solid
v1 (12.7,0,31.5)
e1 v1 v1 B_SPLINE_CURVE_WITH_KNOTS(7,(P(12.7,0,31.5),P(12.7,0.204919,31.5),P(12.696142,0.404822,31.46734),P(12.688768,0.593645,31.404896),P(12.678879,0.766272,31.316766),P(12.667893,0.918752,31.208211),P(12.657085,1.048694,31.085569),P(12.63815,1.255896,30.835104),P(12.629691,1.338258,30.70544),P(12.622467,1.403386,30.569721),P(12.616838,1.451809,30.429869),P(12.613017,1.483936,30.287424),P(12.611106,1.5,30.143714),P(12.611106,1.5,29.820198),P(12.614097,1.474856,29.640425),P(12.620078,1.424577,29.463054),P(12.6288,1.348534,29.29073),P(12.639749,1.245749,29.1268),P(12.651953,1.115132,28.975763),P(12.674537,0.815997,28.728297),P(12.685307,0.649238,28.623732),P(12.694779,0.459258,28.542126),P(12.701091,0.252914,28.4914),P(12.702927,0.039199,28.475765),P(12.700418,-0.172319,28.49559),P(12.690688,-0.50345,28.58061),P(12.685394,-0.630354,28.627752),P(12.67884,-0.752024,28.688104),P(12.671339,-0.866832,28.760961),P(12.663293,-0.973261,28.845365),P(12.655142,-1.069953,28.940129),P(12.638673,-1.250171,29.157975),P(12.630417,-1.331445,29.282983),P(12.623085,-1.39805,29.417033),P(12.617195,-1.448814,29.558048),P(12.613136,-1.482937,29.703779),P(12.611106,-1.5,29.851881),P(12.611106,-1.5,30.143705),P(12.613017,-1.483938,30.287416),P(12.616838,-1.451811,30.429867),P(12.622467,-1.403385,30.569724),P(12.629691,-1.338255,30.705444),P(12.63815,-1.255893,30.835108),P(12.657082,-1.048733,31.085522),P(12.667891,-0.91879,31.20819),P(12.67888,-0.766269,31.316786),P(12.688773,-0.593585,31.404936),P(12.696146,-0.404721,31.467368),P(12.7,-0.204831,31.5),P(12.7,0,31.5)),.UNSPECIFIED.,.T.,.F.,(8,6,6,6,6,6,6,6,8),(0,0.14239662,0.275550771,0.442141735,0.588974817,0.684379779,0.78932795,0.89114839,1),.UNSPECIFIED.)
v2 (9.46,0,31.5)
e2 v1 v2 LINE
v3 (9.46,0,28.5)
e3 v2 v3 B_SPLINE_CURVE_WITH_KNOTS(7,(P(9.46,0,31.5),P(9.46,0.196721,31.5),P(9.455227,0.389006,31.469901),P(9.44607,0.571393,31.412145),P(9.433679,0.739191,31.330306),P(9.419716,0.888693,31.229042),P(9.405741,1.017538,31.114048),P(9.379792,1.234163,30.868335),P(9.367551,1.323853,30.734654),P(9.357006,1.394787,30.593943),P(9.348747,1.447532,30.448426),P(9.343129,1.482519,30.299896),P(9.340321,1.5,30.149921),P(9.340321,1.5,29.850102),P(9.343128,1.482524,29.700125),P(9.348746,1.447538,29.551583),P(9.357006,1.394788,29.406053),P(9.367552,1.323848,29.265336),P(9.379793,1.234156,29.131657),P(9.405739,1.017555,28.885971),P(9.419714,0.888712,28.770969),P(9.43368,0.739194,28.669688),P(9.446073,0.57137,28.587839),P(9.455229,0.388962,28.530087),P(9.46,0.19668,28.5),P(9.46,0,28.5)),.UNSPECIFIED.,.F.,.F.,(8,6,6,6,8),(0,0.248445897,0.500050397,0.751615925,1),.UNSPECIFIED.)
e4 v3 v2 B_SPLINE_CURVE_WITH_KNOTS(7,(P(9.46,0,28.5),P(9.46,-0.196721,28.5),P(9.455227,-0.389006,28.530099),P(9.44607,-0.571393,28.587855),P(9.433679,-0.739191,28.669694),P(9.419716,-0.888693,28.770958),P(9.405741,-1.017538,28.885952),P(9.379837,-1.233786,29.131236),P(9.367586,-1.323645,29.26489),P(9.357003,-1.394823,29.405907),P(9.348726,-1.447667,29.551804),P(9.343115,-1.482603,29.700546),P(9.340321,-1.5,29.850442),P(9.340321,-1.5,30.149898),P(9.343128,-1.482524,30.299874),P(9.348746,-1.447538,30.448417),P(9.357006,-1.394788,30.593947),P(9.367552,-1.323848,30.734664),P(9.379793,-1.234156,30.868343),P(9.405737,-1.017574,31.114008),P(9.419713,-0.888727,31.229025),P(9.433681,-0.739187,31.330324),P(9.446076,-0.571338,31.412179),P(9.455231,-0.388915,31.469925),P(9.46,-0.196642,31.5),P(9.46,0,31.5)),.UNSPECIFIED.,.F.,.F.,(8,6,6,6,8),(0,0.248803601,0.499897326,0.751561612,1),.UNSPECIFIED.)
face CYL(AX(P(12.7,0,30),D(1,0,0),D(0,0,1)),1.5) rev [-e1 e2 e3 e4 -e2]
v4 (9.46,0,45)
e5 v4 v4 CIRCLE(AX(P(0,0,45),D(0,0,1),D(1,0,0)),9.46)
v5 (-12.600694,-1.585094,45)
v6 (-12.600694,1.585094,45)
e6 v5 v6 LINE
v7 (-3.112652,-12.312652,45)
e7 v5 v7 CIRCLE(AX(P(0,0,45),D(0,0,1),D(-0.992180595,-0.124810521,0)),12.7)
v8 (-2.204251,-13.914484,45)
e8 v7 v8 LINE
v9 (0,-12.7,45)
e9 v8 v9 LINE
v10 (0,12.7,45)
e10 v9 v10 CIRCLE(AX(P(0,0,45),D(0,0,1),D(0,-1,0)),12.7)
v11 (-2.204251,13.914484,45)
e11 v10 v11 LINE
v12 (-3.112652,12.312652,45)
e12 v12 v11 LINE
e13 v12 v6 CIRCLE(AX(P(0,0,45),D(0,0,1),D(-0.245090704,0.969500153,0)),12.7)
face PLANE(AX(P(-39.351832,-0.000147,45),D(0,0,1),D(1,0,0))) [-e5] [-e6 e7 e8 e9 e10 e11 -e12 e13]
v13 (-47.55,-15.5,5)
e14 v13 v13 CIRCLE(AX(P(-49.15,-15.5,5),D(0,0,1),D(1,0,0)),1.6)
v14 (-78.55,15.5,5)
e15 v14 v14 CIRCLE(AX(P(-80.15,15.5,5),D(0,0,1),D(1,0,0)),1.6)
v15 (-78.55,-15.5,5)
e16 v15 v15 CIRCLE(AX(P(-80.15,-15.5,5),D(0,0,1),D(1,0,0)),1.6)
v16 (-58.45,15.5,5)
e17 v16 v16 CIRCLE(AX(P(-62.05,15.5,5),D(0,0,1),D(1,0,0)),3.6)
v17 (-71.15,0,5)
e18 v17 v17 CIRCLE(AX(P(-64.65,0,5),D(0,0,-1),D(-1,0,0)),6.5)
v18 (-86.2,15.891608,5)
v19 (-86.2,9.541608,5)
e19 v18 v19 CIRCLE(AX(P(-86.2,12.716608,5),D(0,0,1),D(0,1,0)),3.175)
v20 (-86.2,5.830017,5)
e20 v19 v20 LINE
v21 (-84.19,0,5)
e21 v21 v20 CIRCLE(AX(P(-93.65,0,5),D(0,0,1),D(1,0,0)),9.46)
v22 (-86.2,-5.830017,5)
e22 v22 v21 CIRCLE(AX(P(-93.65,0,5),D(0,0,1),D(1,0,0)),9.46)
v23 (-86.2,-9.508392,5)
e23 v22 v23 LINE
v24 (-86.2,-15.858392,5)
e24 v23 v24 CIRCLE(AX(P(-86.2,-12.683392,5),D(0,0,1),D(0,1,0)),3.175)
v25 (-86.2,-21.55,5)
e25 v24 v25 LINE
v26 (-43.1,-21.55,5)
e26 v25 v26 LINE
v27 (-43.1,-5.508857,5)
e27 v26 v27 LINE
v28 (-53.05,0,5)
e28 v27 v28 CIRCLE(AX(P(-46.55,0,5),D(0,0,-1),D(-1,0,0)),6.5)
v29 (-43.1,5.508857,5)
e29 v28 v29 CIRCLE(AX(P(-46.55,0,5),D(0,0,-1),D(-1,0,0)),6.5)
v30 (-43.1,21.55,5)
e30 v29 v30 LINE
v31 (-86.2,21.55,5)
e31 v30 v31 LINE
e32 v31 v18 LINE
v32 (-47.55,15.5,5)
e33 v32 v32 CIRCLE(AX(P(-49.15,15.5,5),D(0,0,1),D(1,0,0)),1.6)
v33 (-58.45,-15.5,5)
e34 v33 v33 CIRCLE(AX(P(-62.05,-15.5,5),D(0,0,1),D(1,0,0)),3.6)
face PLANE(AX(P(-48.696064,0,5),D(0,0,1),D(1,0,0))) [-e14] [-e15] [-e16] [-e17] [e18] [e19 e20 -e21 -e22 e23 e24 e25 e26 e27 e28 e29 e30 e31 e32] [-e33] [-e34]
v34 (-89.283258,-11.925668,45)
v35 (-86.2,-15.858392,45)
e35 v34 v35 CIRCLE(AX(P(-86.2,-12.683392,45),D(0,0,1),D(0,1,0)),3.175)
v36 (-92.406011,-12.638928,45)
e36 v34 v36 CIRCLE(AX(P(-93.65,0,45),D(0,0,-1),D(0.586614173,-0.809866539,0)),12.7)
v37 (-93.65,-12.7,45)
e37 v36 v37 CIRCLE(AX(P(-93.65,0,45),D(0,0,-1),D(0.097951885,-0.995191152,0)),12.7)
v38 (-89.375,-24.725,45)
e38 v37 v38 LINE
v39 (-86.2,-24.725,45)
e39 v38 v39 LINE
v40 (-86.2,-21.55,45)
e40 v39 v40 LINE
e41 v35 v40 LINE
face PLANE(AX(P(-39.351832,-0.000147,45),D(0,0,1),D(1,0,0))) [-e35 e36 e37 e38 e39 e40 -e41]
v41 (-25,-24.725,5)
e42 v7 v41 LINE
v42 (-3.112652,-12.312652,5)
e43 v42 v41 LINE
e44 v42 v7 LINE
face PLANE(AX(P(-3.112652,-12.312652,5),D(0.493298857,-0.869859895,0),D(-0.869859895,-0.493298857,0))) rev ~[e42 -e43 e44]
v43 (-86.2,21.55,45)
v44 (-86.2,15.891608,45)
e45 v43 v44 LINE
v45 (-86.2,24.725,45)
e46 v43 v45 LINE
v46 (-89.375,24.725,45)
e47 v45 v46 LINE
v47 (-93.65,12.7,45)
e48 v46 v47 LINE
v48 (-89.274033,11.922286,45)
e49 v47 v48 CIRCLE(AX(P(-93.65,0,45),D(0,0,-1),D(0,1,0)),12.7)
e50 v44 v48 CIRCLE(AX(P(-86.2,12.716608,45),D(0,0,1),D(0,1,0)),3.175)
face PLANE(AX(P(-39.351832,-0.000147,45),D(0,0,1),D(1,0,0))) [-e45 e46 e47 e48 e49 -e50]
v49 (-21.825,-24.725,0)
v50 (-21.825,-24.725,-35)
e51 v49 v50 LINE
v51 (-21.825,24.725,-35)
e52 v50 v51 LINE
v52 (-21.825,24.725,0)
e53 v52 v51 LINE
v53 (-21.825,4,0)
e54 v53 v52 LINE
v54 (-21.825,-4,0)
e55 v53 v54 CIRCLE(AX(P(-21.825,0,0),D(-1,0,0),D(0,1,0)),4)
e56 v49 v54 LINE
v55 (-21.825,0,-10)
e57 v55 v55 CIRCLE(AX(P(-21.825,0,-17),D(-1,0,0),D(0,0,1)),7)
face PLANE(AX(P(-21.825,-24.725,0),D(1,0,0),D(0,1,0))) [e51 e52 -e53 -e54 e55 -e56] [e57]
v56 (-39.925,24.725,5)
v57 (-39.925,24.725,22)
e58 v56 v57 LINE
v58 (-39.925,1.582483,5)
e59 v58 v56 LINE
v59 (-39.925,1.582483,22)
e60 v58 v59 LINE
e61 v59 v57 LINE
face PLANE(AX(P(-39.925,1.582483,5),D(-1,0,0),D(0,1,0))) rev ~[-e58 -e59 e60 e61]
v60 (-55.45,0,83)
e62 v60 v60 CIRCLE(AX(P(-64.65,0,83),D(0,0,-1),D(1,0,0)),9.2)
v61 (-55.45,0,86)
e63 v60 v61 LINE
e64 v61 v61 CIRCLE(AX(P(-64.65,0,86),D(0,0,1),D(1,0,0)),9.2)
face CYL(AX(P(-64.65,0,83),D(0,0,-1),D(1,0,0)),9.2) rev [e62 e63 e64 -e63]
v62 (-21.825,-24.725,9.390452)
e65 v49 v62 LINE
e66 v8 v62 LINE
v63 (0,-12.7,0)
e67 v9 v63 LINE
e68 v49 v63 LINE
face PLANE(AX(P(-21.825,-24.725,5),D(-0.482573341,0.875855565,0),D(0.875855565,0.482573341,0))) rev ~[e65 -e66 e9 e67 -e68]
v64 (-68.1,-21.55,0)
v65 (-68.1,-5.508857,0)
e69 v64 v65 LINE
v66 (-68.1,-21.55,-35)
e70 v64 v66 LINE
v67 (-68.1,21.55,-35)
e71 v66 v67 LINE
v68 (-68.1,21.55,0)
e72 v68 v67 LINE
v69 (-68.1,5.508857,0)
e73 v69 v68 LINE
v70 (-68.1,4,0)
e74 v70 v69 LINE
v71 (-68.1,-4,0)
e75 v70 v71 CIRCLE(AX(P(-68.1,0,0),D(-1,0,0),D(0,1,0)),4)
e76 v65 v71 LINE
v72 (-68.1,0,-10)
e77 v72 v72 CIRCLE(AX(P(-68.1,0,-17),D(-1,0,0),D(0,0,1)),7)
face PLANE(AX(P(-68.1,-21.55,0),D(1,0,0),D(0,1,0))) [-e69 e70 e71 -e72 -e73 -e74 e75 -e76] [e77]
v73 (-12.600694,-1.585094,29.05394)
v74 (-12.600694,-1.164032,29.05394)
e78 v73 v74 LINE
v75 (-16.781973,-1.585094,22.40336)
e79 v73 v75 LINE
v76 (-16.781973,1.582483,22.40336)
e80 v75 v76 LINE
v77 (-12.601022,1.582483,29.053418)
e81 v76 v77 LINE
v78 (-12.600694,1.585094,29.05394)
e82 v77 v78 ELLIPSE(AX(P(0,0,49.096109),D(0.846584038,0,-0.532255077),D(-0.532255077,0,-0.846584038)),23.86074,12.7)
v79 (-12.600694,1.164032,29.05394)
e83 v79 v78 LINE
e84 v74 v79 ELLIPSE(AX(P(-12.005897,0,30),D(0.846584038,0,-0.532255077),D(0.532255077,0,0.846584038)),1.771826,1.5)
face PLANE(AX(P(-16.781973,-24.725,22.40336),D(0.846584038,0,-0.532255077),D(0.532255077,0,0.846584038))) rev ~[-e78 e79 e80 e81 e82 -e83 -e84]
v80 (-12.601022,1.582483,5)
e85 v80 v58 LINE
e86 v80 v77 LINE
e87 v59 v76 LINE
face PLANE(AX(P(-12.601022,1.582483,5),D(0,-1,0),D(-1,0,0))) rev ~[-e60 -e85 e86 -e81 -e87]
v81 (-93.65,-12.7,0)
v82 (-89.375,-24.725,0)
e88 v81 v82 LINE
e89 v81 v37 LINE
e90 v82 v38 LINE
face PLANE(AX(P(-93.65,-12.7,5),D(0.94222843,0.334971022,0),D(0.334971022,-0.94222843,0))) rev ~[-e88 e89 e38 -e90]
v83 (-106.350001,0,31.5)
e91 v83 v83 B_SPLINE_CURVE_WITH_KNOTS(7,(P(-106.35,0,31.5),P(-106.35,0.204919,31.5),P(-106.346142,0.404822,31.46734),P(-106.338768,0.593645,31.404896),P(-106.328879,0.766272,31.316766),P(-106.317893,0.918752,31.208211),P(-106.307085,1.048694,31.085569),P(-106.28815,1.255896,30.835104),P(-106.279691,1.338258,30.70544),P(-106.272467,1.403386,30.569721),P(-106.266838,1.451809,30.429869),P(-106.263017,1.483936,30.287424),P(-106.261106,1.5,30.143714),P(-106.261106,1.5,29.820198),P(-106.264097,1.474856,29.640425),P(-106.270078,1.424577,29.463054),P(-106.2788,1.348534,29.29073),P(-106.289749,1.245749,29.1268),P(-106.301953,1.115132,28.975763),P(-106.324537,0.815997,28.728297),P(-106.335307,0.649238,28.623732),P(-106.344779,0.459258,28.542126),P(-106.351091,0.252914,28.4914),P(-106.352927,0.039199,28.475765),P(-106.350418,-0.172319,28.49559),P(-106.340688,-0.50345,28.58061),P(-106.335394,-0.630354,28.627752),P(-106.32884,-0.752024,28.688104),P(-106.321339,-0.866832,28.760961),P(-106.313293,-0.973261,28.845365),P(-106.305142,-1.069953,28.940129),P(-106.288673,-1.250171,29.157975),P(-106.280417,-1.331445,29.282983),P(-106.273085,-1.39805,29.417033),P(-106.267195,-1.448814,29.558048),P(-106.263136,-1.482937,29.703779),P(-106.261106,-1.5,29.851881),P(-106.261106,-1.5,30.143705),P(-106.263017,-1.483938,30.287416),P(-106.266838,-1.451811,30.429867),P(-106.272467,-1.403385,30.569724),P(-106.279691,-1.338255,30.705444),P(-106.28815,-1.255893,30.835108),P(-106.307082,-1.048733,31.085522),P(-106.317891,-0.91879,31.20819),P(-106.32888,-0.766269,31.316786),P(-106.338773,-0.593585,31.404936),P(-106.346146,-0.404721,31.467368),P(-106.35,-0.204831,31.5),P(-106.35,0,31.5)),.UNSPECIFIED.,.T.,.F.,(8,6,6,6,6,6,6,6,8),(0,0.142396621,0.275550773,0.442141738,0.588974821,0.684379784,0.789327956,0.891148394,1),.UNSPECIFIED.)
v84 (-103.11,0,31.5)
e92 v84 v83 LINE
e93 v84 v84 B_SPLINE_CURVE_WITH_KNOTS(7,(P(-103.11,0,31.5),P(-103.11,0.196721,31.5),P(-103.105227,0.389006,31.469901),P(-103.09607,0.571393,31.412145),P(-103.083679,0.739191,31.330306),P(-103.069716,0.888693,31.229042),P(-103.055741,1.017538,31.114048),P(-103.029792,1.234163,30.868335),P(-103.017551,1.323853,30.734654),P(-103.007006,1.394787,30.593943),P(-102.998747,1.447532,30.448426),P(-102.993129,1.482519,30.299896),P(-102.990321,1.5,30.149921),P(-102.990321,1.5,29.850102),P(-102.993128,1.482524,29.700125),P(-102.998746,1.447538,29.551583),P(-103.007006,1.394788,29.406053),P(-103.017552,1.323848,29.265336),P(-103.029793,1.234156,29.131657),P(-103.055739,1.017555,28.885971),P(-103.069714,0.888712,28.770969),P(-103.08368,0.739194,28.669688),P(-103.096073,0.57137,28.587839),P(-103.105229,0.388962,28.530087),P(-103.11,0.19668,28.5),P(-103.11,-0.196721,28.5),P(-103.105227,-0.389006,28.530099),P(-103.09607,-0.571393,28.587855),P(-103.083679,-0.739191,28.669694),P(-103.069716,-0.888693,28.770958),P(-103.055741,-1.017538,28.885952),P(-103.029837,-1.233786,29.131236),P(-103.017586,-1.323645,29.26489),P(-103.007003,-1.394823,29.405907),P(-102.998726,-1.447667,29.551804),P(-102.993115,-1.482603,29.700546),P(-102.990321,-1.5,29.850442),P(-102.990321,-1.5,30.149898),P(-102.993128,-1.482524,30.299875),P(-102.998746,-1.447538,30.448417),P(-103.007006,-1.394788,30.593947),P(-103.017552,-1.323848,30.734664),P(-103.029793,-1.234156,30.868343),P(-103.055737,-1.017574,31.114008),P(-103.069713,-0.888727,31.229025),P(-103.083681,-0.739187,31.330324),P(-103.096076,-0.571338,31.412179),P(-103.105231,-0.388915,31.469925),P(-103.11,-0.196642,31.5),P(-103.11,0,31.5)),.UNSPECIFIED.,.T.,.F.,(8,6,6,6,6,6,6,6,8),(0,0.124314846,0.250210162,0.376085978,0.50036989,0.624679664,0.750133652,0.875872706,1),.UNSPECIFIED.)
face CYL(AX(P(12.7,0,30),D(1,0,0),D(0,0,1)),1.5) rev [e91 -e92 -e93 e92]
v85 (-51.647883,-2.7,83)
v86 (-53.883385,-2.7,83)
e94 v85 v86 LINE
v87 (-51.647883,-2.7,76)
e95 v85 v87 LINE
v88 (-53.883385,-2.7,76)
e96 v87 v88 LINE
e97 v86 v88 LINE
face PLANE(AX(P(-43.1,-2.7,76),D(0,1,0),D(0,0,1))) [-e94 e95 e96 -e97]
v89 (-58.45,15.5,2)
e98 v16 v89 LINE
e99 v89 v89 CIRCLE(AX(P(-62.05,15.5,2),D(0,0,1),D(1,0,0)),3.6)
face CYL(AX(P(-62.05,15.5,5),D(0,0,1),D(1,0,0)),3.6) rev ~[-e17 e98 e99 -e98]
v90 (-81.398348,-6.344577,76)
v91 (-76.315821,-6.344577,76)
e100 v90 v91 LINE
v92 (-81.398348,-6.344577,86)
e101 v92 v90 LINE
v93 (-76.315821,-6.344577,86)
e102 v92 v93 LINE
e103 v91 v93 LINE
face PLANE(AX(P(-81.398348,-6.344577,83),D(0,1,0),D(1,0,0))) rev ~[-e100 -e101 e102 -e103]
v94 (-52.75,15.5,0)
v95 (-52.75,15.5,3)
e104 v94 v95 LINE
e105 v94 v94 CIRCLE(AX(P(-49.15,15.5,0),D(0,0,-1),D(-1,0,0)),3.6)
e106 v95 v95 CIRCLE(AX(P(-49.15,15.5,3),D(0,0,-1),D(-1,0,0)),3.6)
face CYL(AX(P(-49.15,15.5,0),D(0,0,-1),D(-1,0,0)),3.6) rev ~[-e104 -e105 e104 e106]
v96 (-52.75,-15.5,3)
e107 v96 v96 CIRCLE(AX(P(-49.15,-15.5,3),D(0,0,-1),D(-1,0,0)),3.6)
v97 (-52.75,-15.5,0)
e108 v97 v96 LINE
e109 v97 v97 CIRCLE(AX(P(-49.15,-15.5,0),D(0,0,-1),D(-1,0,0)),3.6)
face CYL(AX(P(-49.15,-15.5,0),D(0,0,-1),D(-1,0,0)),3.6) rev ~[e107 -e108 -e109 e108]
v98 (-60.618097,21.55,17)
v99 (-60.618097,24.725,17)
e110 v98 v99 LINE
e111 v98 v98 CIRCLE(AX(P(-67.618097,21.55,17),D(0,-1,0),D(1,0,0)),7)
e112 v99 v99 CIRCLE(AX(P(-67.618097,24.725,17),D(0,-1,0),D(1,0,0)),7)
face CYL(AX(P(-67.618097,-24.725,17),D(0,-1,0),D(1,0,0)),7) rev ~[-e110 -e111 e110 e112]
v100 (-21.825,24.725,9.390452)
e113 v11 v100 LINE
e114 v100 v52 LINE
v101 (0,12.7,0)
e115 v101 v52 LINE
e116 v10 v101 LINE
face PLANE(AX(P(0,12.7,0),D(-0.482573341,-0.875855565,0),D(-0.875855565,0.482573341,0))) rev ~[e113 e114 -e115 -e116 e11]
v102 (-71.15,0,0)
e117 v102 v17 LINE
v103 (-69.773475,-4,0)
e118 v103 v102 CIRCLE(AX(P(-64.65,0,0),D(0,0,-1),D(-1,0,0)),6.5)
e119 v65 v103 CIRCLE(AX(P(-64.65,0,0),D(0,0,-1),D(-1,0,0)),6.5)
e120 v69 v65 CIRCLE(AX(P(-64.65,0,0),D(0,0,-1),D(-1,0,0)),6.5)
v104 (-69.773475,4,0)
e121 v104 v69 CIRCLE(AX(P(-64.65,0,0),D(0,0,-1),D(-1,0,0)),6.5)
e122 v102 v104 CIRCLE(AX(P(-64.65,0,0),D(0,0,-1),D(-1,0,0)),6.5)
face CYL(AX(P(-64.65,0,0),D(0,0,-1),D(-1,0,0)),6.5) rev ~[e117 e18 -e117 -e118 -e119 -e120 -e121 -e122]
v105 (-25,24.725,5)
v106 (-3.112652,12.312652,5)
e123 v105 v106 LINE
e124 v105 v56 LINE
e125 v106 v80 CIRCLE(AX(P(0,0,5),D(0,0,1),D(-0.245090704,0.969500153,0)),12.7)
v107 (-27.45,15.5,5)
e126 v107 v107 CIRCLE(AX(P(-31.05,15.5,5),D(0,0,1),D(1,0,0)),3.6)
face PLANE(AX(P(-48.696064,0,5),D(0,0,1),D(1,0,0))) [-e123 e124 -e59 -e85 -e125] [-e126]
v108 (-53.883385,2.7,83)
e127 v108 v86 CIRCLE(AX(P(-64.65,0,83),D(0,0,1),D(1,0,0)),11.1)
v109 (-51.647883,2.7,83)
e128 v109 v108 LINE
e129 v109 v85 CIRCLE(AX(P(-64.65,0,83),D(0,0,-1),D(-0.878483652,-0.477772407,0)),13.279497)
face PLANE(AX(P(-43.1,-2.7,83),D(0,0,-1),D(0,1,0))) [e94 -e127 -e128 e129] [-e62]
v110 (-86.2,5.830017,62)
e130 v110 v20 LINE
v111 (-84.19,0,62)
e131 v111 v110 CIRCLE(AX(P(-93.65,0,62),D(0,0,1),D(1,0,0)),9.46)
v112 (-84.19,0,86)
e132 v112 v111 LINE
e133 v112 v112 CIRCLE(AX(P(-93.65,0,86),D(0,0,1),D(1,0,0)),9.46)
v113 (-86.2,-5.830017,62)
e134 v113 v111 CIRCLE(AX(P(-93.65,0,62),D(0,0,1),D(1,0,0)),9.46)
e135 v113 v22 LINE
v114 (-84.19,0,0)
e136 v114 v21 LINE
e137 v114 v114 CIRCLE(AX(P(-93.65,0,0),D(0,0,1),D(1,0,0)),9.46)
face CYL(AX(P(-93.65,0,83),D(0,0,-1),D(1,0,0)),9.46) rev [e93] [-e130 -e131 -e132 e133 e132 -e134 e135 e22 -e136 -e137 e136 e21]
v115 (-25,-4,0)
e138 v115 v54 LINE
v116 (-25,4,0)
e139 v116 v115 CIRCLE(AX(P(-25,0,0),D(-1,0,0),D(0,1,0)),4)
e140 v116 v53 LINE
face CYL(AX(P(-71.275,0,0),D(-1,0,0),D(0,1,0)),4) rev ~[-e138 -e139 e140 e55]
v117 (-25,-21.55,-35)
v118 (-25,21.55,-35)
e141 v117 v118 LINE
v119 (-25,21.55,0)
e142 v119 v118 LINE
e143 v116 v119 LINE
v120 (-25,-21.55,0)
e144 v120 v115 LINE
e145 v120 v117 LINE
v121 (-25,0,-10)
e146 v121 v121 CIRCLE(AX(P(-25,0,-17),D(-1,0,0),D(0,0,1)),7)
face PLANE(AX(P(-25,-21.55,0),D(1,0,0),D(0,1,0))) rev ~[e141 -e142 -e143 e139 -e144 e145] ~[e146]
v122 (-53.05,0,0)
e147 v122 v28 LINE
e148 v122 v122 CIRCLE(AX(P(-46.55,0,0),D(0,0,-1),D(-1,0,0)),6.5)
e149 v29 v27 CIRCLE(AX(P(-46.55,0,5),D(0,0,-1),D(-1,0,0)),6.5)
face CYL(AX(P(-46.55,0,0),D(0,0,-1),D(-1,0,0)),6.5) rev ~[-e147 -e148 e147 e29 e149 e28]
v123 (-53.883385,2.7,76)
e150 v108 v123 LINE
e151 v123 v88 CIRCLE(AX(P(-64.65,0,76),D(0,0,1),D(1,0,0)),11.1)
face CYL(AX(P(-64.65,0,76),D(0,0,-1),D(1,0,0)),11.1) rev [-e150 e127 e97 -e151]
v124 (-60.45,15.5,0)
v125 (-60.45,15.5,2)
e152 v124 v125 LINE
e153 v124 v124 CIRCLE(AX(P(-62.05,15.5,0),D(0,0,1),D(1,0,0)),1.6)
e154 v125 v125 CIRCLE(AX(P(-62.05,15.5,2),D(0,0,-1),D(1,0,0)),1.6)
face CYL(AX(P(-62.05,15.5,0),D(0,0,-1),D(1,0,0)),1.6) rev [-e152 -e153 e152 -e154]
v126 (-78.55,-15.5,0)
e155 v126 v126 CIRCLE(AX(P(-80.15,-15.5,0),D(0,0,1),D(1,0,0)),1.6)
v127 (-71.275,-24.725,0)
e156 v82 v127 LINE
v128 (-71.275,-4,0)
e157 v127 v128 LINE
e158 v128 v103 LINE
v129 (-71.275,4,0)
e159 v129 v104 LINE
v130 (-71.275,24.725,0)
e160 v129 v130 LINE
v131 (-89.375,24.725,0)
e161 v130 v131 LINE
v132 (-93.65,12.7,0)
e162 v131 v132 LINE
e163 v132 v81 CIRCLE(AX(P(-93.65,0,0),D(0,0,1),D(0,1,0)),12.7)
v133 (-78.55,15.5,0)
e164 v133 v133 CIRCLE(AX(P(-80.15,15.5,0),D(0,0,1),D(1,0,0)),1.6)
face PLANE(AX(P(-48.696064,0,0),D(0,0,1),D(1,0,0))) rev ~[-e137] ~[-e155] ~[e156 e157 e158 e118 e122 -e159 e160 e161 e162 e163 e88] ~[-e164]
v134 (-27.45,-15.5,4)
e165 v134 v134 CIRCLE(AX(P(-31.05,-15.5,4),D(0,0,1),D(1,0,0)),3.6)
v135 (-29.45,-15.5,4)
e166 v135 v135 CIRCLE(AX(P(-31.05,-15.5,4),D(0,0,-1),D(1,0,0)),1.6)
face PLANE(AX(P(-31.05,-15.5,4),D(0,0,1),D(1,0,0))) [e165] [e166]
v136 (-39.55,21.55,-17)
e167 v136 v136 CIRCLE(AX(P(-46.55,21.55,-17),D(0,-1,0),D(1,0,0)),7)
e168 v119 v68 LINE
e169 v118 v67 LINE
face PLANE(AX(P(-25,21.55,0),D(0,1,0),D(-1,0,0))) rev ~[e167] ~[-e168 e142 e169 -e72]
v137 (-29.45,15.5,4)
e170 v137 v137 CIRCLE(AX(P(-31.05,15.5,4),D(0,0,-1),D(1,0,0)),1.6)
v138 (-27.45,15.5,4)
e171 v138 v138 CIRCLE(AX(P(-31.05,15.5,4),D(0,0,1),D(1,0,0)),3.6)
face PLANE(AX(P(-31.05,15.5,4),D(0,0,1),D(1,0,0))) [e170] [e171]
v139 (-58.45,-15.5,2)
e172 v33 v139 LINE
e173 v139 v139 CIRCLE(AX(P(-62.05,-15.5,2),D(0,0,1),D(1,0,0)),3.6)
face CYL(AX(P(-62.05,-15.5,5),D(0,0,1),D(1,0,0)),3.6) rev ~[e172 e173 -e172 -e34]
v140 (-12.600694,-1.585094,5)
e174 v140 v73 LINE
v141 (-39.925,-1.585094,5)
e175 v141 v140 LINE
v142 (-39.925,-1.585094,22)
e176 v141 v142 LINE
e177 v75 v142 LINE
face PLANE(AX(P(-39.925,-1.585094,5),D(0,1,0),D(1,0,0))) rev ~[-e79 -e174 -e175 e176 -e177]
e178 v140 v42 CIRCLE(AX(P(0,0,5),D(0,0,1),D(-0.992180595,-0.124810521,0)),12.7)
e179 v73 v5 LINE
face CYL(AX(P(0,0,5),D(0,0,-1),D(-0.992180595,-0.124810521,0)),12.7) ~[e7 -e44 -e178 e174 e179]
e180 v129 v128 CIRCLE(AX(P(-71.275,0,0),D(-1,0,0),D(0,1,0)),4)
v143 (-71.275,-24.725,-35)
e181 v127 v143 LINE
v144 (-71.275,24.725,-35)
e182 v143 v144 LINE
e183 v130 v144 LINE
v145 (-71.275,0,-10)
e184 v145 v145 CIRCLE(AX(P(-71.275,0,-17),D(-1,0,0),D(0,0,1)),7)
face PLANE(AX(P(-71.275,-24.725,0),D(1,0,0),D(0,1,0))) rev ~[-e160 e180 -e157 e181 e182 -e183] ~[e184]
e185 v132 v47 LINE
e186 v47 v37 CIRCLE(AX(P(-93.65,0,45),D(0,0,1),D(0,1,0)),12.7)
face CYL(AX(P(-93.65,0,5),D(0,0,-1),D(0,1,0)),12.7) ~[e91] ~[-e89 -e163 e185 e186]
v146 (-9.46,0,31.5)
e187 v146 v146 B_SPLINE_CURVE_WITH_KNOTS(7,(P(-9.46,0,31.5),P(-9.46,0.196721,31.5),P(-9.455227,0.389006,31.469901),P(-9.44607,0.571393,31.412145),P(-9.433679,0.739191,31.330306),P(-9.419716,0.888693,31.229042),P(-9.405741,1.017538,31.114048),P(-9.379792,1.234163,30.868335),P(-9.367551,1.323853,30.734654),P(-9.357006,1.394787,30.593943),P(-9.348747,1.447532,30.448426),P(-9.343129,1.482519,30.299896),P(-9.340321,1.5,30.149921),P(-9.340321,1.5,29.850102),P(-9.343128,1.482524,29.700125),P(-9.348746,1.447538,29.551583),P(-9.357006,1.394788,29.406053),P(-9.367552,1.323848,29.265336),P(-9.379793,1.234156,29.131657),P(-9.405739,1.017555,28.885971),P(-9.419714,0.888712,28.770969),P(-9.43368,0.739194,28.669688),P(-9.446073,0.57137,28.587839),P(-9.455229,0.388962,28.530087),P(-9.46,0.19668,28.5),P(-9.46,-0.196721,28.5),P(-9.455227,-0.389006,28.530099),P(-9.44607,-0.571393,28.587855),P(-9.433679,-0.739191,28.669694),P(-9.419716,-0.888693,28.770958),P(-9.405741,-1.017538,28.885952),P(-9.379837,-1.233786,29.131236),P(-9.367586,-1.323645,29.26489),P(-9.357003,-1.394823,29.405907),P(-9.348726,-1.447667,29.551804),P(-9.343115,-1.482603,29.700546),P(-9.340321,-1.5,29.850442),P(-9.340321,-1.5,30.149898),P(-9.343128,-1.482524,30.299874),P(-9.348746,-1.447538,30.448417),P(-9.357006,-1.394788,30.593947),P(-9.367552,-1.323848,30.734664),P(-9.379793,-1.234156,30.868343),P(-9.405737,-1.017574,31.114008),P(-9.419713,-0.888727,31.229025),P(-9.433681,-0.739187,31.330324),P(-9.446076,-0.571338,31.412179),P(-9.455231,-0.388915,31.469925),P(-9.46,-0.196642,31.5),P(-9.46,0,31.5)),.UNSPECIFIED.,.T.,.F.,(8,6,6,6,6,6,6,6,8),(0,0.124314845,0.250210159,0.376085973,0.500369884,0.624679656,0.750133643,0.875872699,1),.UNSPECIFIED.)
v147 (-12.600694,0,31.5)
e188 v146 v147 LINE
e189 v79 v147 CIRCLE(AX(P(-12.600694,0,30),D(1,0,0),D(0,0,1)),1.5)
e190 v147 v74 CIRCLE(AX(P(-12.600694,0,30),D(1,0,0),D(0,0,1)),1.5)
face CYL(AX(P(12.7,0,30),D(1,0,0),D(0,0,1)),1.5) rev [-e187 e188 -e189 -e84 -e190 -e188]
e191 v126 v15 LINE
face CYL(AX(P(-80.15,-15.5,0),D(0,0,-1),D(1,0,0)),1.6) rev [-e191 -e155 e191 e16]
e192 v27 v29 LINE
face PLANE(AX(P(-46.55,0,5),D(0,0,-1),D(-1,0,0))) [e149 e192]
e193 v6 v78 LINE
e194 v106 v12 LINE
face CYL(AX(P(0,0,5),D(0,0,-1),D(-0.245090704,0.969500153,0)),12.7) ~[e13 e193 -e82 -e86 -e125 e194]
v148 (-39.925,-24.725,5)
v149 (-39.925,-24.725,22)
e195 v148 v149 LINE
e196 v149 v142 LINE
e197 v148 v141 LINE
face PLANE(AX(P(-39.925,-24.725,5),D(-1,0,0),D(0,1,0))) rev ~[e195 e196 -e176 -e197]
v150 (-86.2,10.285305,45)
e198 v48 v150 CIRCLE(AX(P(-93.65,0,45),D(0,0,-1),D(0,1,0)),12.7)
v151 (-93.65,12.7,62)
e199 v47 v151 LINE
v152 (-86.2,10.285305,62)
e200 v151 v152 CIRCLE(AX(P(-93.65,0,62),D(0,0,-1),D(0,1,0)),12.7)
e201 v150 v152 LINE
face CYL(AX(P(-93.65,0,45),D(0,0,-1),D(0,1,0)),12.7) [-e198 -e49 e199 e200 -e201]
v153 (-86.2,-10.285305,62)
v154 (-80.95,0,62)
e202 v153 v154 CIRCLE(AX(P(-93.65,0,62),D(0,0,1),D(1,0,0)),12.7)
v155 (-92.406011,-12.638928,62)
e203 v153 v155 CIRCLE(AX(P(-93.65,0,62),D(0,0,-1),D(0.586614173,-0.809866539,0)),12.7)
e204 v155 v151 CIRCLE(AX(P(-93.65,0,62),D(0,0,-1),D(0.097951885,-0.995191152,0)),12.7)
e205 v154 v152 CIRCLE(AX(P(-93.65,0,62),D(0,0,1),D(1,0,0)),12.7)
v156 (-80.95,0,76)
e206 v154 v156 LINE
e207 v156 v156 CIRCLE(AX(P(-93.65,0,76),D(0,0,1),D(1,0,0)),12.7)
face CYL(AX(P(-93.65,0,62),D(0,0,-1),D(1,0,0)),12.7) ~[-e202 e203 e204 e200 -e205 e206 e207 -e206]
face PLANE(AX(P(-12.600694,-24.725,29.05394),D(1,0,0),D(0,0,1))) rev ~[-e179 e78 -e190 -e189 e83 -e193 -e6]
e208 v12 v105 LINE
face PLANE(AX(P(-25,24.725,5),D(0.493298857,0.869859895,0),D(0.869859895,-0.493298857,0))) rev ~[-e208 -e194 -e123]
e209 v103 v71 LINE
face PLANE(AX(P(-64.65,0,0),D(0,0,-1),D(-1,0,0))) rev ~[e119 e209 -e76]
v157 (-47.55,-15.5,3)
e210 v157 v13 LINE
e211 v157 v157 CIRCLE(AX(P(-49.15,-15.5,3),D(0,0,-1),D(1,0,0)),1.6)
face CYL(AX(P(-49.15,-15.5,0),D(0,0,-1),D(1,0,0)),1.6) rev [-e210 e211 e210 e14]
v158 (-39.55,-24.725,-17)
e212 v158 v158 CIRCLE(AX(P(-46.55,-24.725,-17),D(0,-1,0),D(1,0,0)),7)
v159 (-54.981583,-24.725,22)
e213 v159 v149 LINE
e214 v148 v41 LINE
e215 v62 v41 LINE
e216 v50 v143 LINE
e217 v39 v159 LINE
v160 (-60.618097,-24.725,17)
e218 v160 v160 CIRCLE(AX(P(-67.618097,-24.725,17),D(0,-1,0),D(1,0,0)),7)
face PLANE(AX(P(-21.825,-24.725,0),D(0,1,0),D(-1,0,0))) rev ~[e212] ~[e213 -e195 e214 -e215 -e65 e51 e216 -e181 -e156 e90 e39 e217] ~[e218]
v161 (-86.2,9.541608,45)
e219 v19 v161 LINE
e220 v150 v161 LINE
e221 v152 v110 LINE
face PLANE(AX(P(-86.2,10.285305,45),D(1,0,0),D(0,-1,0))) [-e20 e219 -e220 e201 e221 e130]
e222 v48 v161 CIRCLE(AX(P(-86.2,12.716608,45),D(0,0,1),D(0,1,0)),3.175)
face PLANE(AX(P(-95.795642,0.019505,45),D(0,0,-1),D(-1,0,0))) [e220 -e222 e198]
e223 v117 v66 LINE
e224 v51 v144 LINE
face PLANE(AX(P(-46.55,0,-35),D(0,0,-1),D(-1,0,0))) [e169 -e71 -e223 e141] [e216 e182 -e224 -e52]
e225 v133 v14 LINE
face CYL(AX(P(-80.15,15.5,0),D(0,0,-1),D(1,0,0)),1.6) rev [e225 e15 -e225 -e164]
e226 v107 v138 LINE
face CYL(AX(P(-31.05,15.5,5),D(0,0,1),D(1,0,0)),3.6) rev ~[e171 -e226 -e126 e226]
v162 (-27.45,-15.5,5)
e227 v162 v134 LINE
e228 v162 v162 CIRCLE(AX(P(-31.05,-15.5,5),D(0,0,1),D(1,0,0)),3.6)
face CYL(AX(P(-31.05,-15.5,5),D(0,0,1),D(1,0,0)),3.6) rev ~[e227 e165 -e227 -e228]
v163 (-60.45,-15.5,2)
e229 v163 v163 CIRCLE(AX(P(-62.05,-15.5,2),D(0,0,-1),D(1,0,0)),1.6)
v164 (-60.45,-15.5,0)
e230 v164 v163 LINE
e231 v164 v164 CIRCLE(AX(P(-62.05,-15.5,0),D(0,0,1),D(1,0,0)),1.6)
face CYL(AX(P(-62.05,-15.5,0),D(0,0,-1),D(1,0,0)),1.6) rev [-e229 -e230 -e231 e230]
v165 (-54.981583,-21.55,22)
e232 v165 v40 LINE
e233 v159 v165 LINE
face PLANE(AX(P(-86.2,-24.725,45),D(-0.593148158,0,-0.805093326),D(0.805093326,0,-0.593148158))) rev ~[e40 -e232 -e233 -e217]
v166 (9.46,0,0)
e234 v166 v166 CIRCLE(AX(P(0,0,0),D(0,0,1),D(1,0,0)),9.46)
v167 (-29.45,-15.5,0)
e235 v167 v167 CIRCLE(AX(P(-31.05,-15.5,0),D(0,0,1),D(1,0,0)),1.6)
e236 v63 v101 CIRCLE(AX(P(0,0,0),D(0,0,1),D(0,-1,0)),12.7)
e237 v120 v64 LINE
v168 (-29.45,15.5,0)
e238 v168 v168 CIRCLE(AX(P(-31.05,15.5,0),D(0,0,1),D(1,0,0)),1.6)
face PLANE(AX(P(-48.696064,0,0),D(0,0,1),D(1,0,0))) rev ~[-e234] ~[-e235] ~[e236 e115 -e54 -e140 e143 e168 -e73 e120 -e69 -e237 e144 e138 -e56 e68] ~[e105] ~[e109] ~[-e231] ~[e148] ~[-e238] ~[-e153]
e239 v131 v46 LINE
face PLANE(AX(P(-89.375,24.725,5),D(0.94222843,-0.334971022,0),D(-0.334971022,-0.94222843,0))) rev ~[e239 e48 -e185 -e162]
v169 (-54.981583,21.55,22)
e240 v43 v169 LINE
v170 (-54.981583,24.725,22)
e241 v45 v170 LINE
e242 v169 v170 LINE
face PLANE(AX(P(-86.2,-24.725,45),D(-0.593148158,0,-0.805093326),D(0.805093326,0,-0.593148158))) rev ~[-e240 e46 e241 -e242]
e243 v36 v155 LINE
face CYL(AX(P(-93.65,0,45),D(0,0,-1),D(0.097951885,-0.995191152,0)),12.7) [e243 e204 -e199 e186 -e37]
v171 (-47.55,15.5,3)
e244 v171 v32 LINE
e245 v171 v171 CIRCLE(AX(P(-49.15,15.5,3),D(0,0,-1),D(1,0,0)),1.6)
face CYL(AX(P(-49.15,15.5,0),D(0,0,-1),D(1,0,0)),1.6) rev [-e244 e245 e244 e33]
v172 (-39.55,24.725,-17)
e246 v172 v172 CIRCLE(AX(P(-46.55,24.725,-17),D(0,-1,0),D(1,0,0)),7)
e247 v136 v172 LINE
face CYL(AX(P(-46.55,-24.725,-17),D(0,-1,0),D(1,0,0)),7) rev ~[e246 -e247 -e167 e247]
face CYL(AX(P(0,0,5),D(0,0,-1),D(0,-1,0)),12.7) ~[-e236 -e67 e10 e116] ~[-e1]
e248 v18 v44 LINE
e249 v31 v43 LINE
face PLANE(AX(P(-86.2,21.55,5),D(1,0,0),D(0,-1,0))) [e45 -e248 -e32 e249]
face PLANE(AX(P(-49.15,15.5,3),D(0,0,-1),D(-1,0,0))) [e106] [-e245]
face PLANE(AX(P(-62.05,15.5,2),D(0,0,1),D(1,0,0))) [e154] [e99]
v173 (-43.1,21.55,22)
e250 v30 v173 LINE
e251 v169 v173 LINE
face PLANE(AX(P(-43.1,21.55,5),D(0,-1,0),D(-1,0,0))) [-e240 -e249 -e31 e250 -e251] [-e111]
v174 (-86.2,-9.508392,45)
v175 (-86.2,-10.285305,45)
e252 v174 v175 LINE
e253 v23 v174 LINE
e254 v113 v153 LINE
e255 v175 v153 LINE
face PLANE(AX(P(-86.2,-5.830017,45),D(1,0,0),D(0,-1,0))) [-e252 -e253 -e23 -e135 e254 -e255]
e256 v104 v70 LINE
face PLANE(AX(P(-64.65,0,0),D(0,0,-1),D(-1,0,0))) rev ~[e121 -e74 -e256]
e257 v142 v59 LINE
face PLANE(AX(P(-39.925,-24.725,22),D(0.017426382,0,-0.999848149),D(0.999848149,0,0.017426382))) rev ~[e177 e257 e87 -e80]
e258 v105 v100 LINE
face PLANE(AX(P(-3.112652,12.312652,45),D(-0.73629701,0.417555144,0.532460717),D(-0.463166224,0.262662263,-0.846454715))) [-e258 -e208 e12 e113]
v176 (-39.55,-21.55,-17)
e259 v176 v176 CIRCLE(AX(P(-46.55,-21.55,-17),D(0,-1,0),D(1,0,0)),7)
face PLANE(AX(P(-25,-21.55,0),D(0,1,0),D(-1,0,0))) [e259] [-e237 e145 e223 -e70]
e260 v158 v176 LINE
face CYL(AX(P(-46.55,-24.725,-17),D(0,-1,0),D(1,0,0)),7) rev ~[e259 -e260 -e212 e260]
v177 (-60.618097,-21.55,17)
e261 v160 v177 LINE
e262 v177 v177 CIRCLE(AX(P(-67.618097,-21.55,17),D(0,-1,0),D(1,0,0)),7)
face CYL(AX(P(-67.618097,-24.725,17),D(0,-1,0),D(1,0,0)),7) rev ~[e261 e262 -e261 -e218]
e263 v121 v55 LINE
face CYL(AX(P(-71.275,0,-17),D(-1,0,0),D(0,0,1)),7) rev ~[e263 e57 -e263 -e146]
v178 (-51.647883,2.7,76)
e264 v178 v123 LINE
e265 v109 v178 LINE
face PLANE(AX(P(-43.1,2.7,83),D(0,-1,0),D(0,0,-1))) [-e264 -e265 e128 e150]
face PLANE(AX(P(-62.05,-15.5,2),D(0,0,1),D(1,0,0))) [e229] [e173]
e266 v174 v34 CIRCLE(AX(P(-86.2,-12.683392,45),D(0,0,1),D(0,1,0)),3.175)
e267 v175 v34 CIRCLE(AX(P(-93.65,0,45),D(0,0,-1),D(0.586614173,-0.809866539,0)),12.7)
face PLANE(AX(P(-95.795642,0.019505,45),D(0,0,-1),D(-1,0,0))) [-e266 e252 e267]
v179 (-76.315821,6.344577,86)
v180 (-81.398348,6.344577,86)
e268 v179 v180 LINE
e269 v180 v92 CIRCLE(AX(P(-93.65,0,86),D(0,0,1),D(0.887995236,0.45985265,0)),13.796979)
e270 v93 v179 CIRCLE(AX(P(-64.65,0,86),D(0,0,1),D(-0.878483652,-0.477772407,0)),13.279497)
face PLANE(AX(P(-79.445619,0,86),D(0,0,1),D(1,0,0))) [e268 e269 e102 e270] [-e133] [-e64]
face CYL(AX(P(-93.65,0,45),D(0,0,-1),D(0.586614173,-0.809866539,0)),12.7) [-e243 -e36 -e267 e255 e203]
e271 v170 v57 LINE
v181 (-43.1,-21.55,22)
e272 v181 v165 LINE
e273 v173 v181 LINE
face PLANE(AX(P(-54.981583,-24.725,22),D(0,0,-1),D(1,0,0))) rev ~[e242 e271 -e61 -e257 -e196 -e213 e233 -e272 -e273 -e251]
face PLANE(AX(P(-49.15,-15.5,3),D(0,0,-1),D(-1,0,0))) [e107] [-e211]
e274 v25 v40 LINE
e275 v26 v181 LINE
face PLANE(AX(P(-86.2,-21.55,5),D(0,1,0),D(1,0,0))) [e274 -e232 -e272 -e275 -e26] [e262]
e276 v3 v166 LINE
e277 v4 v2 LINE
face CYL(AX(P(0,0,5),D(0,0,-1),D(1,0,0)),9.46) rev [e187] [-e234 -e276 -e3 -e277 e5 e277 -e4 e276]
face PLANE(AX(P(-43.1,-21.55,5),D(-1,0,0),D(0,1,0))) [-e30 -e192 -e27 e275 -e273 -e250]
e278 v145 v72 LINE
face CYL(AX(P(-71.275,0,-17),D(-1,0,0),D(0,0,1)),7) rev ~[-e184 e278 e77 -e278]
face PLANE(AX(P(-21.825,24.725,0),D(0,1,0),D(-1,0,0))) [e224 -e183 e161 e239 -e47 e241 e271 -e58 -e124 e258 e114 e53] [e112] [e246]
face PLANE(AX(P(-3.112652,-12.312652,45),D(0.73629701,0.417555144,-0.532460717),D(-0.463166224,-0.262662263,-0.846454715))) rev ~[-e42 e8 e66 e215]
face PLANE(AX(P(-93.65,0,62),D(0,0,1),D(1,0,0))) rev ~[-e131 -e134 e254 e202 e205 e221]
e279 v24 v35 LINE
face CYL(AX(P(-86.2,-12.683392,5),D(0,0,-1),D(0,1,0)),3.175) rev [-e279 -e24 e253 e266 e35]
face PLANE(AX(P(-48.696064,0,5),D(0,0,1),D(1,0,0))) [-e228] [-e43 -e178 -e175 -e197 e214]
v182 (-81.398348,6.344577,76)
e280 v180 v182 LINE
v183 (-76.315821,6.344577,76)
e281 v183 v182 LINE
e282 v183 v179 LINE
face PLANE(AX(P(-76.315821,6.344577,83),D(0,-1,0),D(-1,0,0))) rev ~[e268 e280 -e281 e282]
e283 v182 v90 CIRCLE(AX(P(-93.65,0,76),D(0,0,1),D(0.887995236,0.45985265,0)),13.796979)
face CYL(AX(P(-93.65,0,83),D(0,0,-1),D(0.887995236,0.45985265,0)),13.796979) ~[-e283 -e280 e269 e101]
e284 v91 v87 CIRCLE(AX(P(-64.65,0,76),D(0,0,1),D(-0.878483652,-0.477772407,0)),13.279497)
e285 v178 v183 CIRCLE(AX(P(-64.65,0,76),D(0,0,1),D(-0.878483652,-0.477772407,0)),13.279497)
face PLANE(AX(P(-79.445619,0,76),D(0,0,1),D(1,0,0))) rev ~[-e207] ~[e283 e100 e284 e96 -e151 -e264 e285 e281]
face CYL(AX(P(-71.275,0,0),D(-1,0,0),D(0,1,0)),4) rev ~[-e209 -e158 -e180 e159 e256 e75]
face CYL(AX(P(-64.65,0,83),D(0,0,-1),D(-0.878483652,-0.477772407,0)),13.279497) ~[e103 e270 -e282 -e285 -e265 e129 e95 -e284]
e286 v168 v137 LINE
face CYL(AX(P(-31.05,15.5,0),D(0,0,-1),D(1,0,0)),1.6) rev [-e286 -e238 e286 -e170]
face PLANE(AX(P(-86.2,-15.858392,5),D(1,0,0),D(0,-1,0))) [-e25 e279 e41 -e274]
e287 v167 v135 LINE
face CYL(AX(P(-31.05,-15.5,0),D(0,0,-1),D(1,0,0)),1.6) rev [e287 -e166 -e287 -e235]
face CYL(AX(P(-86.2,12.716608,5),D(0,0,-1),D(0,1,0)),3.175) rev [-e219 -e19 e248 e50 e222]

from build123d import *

# Parameters (mm, degrees)
SKETCH5_R       = 9.46
SKETCH5_R_2     = 1.6
EXTRUDE1_DEPTH  = 5
SKETCH6_R       = 9.46
EXTRUDE2_DEPTH  = 40
SKETCH7_W       = 49.45
SKETCH7_H       = 49.45
SKETCH7_W_2     = 43.1
SKETCH7_H_2     = 43.1
EXTRUDE3_DEPTH  = 35
EXTRUDE5_REACH  = 20.597
EXTRUDE6_REACH  = 20.597
SKETCH16_R      = 7
EXTRUDE9_DEPTH  = 49.45
EXTRUDE10_DEPTH = 17
SKETCH18_R      = 12.7
SKETCH18_R_2    = 9.46
EXTRUDE11_DEPTH = 14
SKETCH19_R      = 11.1
SKETCH19_R_2    = 9.46
EXTRUDE12_DEPTH = 7
SKETCH20_R      = 9.46
SKETCH20_R_2    = 9.2
EXTRUDE13_DEPTH = 3
EXTRUDE14_DEPTH = 15
SKETCH22_R      = 3.6
EXTRUDE15_DEPTH = 3
SKETCH23_R      = 3.6
EXTRUDE16_DEPTH = 3
SKETCH24_R      = 7
EXTRUDE17_DEPTH = 49.45
SKETCH25_R      = 6.5
EXTRUDE18_DEPTH = 5
EXTRUDE19_START = -25.300694
SKETCH26_R      = 1.5
EXTRUDE19_DEPTH = 119.050001
SKETCH27_R      = 3.6
EXTRUDE20_DEPTH = 1


with BuildPart() as part:
    # Sketch5 → Extrude1 (new body)
    with BuildSketch(Plane.XY):
        with BuildLine():
            Line((-21.825, -24.725), (0, -12.7))
            ThreePointArc((0, -12.7), (12.7, 0), (0, 12.7))
            Line((0, 12.7), (-21.825, 24.725))
            Line((-21.825, 24.725), (-89.375, 24.725))
            Line((-89.375, 24.725), (-93.65, 12.7))
            ThreePointArc((-93.65, 12.7), (-106.35, 0), (-93.65, -12.7))
            Line((-93.65, -12.7), (-89.375, -24.725))
            Line((-89.375, -24.725), (-21.825, -24.725))
        make_face()
        Circle(SKETCH5_R, mode=Mode.SUBTRACT)
        with Locations((-93.65, 0)):
            Circle(SKETCH5_R, mode=Mode.SUBTRACT)
        with Locations((-31.05, 15.5)):
            Circle(SKETCH5_R_2, mode=Mode.SUBTRACT)
        with Locations((-31.05, -15.5)):
            Circle(SKETCH5_R_2, mode=Mode.SUBTRACT)
        with Locations((-49.15, -15.5)):
            Circle(SKETCH5_R_2, mode=Mode.SUBTRACT)
        with Locations((-49.15, 15.5)):
            Circle(SKETCH5_R_2, mode=Mode.SUBTRACT)
        with Locations((-62.05, 15.5)):
            Circle(SKETCH5_R_2, mode=Mode.SUBTRACT)
        with Locations((-80.15, 15.5)):
            Circle(SKETCH5_R_2, mode=Mode.SUBTRACT)
        with Locations((-80.15, -15.5)):
            Circle(SKETCH5_R_2, mode=Mode.SUBTRACT)
        with Locations((-62.05, -15.5)):
            Circle(SKETCH5_R_2, mode=Mode.SUBTRACT)
    extrude(amount=EXTRUDE1_DEPTH)

    # Sketch6 → Extrude2 (add)
    with BuildSketch(Plane.XY.offset(5)):
        with BuildLine():
            Line((-39.925, 24.725), (-89.375, 24.725))
            Line((-89.375, 24.725), (-93.65, 12.7))
            ThreePointArc((-93.65, 12.7), (-106.35, 0), (-93.65, -12.7))
            Line((-93.65, -12.7), (-89.375, -24.725))
            Line((-89.375, -24.725), (-39.925, -24.725))
            Line((-39.925, -24.725), (-39.925, -1.585093616))
            Line((-39.925, -1.585093616), (-12.600693561, -1.585093616))
            ThreePointArc((-12.600693561, -1.585093616), (-9.51301391, -8.413831847), (-3.112651943, -12.312651943))
            Line((-3.112651943, -12.312651943), (-25, -24.725))
            Line((-25, -24.725), (-21.825, -24.725))
            Line((-21.825, -24.725), (0, -12.7))
            ThreePointArc((0, -12.7), (12.7, 0), (0, 12.7))
            Line((0, 12.7), (-21.825, 24.725))
            Line((-21.825, 24.725), (-25, 24.725))
            Line((-25, 24.725), (-3.112651943, 12.312651943))
            ThreePointArc((-3.112651943, 12.312651943), (-9.513885465, 8.41284633), (-12.601021697, 1.58248292))
            Line((-12.601021697, 1.58248292), (-39.925, 1.58248292))
            Line((-39.925, 1.58248292), (-39.925, 24.725))
        make_face()
        Circle(SKETCH6_R, mode=Mode.SUBTRACT)
        with BuildLine():
            Line((-86.2, -21.55), (-43.1, -21.55))
            Line((-43.1, -21.55), (-43.1, 21.55))
            Line((-43.1, 21.55), (-86.2, 21.55))
            Line((-86.2, 21.55), (-86.2, 15.891608363))
            ThreePointArc((-86.2, 15.891608363), (-89.375, 12.716608363), (-86.2, 9.541608363))
            Line((-86.2, 9.541608363), (-86.2, 5.830017153))
            ThreePointArc((-86.2, 5.830017153), (-103.11, 0), (-86.2, -5.830017153))
            Line((-86.2, -5.830017153), (-86.2, -9.508391637))
            ThreePointArc((-86.2, -9.508391637), (-89.375, -12.683391637), (-86.2, -15.858391637))
            Line((-86.2, -15.858391637), (-86.2, -21.55))
        make_face(mode=Mode.SUBTRACT)
    extrude(amount=EXTRUDE2_DEPTH)

    # Sketch7 → Extrude3 (add)
    with BuildSketch(Plane(origin=(0, 0, 0), x_dir=(-1, 0, 0), z_dir=(0, 0, -1))):
        with Locations((46.55, 0)):
            Rectangle(SKETCH7_W, SKETCH7_H)
        with Locations((46.55, 0)):
            Rectangle(SKETCH7_W_2, SKETCH7_H_2, mode=Mode.SUBTRACT)
    extrude(amount=EXTRUDE3_DEPTH)

    # Extrude5: up to this face of the body (flat: up to its plane)
    extrude5_end = Plane(part.part.faces().sort_by_distance((-10.9125, 18.7125, 22.5))[0])
    # Sketch12 → Extrude5 (cut, up to the picked face)
    with BuildSketch(Plane(origin=(4.5259255, 7.980803168, 0), x_dir=(0, 0, 1), z_dir=(-0.493298857, -0.869859895, 0)), mode=Mode.PRIVATE) as extrude5_sk1:
        Polygon((45, 8.781388226), (5, 33.943311626), (45, 33.943311626), align=None)
    extrude5_tool1 = split(extrude(extrude5_sk1.sketch, amount=-EXTRUDE5_REACH, mode=Mode.PRIVATE), bisect_by=extrude5_end, keep=Keep.BOTH, mode=Mode.PRIVATE)
    add(extrude5_tool1.solids().sort_by_distance((-17.704217, 20.587551, 31.666667))[0], mode=Mode.SUBTRACT)

    # Extrude6: up to this face of the body (flat: up to its plane)
    extrude6_end = Plane(part.part.faces().sort_by_distance((-10.9125, -18.7125, 22.5))[0])
    # Sketch13 → Extrude6 (cut, up to the picked face)
    with BuildSketch(Plane(origin=(4.5259255, -7.980803168, 0), x_dir=(0, 0, 1), z_dir=(-0.493298857, 0.869859895, 0)), mode=Mode.PRIVATE) as extrude6_sk1:
        Polygon((45, -8.781388226), (5, -33.943311626), (45, -33.943311626), align=None)
    extrude6_tool1 = split(extrude(extrude6_sk1.sketch, amount=-EXTRUDE6_REACH, mode=Mode.PRIVATE), bisect_by=extrude6_end, keep=Keep.BOTH, mode=Mode.PRIVATE)
    add(extrude6_tool1.solids().sort_by_distance((-17.704217, -20.587551, 31.666667))[0], mode=Mode.SUBTRACT)

    # Sketch16 → Extrude9 (cut)
    with BuildSketch(Plane.XZ.offset(24.725)):
        with Locations((-46.55, -17)):
            Circle(SKETCH16_R)
        with Locations((-67.618096531, 17)):
            Circle(SKETCH16_R)
        Polygon((-39.925, 22), (-16.781973348, 22.403360483), (-12.600693561, 29.053940018), (-12.600693561, 45), (-86.2, 45), (-54.981583076, 22), align=None)
    extrude(amount=-EXTRUDE9_DEPTH, mode=Mode.SUBTRACT)

    # Sketch17 → Extrude10 (add)
    with BuildSketch(Plane.XY.offset(45)):
        with BuildLine():
            Line((-86.2, 10.285305051), (-86.2, 5.830017153))
            ThreePointArc((-86.2, 5.830017153), (-103.11, 0), (-86.2, -5.830017153))
            Line((-86.2, -5.830017153), (-86.2, -10.285305051))
            ThreePointArc((-86.2, -10.285305051), (-89.146529591, -11.874710703), (-92.40601106, -12.638927625))
            ThreePointArc((-92.40601106, -12.638927625), (-106.334722718, -0.62274359), (-93.65, 12.7))
            ThreePointArc((-93.65, 12.7), (-89.734222565, 12.081253539), (-86.2, 10.285305051))
        make_face()
    extrude(amount=EXTRUDE10_DEPTH)

    # Sketch18 → Extrude11 (add)
    with BuildSketch(Plane.XY.offset(62)):
        with Locations((-93.65, 0)):
            Circle(SKETCH18_R)
        with Locations((-93.65, 0)):
            Circle(SKETCH18_R_2, mode=Mode.SUBTRACT)
    extrude(amount=EXTRUDE11_DEPTH)

    # Sketch19 → Extrude12 (add)
    with BuildSketch(Plane.XY.offset(76)):
        with BuildLine():
            Line((-81.398348387, -6.344577353), (-76.315821236, -6.344577353))
            ThreePointArc((-76.315821236, -6.344577353), (-51.370502761, 0), (-76.315821236, 6.344577353))
            Line((-76.315821236, 6.344577353), (-81.398348387, 6.344577353))
            ThreePointArc((-81.398348387, 6.344577353), (-107.446978982, 0), (-81.398348387, -6.344577353))
        make_face()
        with Locations((-64.65, 0)):
            Circle(SKETCH19_R, mode=Mode.SUBTRACT)
        with Locations((-93.65, 0)):
            Circle(SKETCH19_R_2, mode=Mode.SUBTRACT)
    extrude(amount=EXTRUDE12_DEPTH)

    # Sketch20 → Extrude13 (add)
    with BuildSketch(Plane.XY.offset(83)):
        with BuildLine():
            Line((-81.398348387, -6.344577353), (-76.315821236, -6.344577353))
            ThreePointArc((-76.315821236, -6.344577353), (-51.370502761, 0), (-76.315821236, 6.344577353))
            Line((-76.315821236, 6.344577353), (-81.398348387, 6.344577353))
            ThreePointArc((-81.398348387, 6.344577353), (-107.446978982, 0), (-81.398348387, -6.344577353))
        make_face()
        with Locations((-93.65, 0)):
            Circle(SKETCH20_R, mode=Mode.SUBTRACT)
        with Locations((-64.65, 0)):
            Circle(SKETCH20_R_2, mode=Mode.SUBTRACT)
    extrude(amount=EXTRUDE13_DEPTH)

    # Sketch21 → Extrude14 (cut)
    with BuildSketch(Plane.ZY.offset(43.1)):
        Polygon((76, 0), (76, -2.7), (83, -2.7), (83, 2.7), (76, 2.7), align=None)
    extrude(amount=EXTRUDE14_DEPTH, mode=Mode.SUBTRACT)

    # Sketch22 → Extrude15 (cut)
    with BuildSketch(Plane.XY.offset(5)):
        with Locations((-62.05, 15.5)):
            Circle(SKETCH22_R)
        with Locations((-62.05, -15.5)):
            Circle(SKETCH22_R)
    extrude(amount=-EXTRUDE15_DEPTH, mode=Mode.SUBTRACT)

    # Sketch23 → Extrude16 (cut)
    with BuildSketch(Plane(origin=(0, 0, 0), x_dir=(-1, 0, 0), z_dir=(0, 0, -1))):
        with Locations((49.15, 15.5)):
            Circle(SKETCH23_R)
        with Locations((49.15, -15.5)):
            Circle(SKETCH23_R)
    extrude(amount=-EXTRUDE16_DEPTH, mode=Mode.SUBTRACT)

    # Sketch24 → Extrude17 (cut)
    with BuildSketch(Plane.ZY.offset(71.275)):
        with Locations((-17, 0)):
            Circle(SKETCH24_R)
        with BuildLine():
            Line((0, 0), (0, 4))
            ThreePointArc((0, 4), (-4, 0), (0, -4))
            Line((0, -4), (0, 0))
        make_face()
    extrude(amount=-EXTRUDE17_DEPTH, mode=Mode.SUBTRACT)

    # Sketch25 → Extrude18 (cut)
    with BuildSketch(Plane(origin=(0, 0, 0), x_dir=(-1, 0, 0), z_dir=(0, 0, -1))):
        with Locations((46.55, 0)):
            Circle(SKETCH25_R)
        with Locations((64.65, 0)):
            Circle(SKETCH25_R)
    extrude(amount=-EXTRUDE18_DEPTH, mode=Mode.SUBTRACT)

    # Sketch26 → Extrude19 (cut)
    with BuildSketch(Plane.ZY.offset(12.600693561).offset(EXTRUDE19_START)):
        with Locations((30, 0)):
            Circle(SKETCH26_R)
    extrude(amount=EXTRUDE19_DEPTH, mode=Mode.SUBTRACT)

    # Sketch27 → Extrude20 (cut)
    with BuildSketch(Plane.XY.offset(5)):
        with Locations((-31.05, 15.5)):
            Circle(SKETCH27_R)
        with Locations((-31.05, -15.5)):
            Circle(SKETCH27_R)
    extrude(amount=-EXTRUDE20_DEPTH, mode=Mode.SUBTRACT)


solid = part.part
